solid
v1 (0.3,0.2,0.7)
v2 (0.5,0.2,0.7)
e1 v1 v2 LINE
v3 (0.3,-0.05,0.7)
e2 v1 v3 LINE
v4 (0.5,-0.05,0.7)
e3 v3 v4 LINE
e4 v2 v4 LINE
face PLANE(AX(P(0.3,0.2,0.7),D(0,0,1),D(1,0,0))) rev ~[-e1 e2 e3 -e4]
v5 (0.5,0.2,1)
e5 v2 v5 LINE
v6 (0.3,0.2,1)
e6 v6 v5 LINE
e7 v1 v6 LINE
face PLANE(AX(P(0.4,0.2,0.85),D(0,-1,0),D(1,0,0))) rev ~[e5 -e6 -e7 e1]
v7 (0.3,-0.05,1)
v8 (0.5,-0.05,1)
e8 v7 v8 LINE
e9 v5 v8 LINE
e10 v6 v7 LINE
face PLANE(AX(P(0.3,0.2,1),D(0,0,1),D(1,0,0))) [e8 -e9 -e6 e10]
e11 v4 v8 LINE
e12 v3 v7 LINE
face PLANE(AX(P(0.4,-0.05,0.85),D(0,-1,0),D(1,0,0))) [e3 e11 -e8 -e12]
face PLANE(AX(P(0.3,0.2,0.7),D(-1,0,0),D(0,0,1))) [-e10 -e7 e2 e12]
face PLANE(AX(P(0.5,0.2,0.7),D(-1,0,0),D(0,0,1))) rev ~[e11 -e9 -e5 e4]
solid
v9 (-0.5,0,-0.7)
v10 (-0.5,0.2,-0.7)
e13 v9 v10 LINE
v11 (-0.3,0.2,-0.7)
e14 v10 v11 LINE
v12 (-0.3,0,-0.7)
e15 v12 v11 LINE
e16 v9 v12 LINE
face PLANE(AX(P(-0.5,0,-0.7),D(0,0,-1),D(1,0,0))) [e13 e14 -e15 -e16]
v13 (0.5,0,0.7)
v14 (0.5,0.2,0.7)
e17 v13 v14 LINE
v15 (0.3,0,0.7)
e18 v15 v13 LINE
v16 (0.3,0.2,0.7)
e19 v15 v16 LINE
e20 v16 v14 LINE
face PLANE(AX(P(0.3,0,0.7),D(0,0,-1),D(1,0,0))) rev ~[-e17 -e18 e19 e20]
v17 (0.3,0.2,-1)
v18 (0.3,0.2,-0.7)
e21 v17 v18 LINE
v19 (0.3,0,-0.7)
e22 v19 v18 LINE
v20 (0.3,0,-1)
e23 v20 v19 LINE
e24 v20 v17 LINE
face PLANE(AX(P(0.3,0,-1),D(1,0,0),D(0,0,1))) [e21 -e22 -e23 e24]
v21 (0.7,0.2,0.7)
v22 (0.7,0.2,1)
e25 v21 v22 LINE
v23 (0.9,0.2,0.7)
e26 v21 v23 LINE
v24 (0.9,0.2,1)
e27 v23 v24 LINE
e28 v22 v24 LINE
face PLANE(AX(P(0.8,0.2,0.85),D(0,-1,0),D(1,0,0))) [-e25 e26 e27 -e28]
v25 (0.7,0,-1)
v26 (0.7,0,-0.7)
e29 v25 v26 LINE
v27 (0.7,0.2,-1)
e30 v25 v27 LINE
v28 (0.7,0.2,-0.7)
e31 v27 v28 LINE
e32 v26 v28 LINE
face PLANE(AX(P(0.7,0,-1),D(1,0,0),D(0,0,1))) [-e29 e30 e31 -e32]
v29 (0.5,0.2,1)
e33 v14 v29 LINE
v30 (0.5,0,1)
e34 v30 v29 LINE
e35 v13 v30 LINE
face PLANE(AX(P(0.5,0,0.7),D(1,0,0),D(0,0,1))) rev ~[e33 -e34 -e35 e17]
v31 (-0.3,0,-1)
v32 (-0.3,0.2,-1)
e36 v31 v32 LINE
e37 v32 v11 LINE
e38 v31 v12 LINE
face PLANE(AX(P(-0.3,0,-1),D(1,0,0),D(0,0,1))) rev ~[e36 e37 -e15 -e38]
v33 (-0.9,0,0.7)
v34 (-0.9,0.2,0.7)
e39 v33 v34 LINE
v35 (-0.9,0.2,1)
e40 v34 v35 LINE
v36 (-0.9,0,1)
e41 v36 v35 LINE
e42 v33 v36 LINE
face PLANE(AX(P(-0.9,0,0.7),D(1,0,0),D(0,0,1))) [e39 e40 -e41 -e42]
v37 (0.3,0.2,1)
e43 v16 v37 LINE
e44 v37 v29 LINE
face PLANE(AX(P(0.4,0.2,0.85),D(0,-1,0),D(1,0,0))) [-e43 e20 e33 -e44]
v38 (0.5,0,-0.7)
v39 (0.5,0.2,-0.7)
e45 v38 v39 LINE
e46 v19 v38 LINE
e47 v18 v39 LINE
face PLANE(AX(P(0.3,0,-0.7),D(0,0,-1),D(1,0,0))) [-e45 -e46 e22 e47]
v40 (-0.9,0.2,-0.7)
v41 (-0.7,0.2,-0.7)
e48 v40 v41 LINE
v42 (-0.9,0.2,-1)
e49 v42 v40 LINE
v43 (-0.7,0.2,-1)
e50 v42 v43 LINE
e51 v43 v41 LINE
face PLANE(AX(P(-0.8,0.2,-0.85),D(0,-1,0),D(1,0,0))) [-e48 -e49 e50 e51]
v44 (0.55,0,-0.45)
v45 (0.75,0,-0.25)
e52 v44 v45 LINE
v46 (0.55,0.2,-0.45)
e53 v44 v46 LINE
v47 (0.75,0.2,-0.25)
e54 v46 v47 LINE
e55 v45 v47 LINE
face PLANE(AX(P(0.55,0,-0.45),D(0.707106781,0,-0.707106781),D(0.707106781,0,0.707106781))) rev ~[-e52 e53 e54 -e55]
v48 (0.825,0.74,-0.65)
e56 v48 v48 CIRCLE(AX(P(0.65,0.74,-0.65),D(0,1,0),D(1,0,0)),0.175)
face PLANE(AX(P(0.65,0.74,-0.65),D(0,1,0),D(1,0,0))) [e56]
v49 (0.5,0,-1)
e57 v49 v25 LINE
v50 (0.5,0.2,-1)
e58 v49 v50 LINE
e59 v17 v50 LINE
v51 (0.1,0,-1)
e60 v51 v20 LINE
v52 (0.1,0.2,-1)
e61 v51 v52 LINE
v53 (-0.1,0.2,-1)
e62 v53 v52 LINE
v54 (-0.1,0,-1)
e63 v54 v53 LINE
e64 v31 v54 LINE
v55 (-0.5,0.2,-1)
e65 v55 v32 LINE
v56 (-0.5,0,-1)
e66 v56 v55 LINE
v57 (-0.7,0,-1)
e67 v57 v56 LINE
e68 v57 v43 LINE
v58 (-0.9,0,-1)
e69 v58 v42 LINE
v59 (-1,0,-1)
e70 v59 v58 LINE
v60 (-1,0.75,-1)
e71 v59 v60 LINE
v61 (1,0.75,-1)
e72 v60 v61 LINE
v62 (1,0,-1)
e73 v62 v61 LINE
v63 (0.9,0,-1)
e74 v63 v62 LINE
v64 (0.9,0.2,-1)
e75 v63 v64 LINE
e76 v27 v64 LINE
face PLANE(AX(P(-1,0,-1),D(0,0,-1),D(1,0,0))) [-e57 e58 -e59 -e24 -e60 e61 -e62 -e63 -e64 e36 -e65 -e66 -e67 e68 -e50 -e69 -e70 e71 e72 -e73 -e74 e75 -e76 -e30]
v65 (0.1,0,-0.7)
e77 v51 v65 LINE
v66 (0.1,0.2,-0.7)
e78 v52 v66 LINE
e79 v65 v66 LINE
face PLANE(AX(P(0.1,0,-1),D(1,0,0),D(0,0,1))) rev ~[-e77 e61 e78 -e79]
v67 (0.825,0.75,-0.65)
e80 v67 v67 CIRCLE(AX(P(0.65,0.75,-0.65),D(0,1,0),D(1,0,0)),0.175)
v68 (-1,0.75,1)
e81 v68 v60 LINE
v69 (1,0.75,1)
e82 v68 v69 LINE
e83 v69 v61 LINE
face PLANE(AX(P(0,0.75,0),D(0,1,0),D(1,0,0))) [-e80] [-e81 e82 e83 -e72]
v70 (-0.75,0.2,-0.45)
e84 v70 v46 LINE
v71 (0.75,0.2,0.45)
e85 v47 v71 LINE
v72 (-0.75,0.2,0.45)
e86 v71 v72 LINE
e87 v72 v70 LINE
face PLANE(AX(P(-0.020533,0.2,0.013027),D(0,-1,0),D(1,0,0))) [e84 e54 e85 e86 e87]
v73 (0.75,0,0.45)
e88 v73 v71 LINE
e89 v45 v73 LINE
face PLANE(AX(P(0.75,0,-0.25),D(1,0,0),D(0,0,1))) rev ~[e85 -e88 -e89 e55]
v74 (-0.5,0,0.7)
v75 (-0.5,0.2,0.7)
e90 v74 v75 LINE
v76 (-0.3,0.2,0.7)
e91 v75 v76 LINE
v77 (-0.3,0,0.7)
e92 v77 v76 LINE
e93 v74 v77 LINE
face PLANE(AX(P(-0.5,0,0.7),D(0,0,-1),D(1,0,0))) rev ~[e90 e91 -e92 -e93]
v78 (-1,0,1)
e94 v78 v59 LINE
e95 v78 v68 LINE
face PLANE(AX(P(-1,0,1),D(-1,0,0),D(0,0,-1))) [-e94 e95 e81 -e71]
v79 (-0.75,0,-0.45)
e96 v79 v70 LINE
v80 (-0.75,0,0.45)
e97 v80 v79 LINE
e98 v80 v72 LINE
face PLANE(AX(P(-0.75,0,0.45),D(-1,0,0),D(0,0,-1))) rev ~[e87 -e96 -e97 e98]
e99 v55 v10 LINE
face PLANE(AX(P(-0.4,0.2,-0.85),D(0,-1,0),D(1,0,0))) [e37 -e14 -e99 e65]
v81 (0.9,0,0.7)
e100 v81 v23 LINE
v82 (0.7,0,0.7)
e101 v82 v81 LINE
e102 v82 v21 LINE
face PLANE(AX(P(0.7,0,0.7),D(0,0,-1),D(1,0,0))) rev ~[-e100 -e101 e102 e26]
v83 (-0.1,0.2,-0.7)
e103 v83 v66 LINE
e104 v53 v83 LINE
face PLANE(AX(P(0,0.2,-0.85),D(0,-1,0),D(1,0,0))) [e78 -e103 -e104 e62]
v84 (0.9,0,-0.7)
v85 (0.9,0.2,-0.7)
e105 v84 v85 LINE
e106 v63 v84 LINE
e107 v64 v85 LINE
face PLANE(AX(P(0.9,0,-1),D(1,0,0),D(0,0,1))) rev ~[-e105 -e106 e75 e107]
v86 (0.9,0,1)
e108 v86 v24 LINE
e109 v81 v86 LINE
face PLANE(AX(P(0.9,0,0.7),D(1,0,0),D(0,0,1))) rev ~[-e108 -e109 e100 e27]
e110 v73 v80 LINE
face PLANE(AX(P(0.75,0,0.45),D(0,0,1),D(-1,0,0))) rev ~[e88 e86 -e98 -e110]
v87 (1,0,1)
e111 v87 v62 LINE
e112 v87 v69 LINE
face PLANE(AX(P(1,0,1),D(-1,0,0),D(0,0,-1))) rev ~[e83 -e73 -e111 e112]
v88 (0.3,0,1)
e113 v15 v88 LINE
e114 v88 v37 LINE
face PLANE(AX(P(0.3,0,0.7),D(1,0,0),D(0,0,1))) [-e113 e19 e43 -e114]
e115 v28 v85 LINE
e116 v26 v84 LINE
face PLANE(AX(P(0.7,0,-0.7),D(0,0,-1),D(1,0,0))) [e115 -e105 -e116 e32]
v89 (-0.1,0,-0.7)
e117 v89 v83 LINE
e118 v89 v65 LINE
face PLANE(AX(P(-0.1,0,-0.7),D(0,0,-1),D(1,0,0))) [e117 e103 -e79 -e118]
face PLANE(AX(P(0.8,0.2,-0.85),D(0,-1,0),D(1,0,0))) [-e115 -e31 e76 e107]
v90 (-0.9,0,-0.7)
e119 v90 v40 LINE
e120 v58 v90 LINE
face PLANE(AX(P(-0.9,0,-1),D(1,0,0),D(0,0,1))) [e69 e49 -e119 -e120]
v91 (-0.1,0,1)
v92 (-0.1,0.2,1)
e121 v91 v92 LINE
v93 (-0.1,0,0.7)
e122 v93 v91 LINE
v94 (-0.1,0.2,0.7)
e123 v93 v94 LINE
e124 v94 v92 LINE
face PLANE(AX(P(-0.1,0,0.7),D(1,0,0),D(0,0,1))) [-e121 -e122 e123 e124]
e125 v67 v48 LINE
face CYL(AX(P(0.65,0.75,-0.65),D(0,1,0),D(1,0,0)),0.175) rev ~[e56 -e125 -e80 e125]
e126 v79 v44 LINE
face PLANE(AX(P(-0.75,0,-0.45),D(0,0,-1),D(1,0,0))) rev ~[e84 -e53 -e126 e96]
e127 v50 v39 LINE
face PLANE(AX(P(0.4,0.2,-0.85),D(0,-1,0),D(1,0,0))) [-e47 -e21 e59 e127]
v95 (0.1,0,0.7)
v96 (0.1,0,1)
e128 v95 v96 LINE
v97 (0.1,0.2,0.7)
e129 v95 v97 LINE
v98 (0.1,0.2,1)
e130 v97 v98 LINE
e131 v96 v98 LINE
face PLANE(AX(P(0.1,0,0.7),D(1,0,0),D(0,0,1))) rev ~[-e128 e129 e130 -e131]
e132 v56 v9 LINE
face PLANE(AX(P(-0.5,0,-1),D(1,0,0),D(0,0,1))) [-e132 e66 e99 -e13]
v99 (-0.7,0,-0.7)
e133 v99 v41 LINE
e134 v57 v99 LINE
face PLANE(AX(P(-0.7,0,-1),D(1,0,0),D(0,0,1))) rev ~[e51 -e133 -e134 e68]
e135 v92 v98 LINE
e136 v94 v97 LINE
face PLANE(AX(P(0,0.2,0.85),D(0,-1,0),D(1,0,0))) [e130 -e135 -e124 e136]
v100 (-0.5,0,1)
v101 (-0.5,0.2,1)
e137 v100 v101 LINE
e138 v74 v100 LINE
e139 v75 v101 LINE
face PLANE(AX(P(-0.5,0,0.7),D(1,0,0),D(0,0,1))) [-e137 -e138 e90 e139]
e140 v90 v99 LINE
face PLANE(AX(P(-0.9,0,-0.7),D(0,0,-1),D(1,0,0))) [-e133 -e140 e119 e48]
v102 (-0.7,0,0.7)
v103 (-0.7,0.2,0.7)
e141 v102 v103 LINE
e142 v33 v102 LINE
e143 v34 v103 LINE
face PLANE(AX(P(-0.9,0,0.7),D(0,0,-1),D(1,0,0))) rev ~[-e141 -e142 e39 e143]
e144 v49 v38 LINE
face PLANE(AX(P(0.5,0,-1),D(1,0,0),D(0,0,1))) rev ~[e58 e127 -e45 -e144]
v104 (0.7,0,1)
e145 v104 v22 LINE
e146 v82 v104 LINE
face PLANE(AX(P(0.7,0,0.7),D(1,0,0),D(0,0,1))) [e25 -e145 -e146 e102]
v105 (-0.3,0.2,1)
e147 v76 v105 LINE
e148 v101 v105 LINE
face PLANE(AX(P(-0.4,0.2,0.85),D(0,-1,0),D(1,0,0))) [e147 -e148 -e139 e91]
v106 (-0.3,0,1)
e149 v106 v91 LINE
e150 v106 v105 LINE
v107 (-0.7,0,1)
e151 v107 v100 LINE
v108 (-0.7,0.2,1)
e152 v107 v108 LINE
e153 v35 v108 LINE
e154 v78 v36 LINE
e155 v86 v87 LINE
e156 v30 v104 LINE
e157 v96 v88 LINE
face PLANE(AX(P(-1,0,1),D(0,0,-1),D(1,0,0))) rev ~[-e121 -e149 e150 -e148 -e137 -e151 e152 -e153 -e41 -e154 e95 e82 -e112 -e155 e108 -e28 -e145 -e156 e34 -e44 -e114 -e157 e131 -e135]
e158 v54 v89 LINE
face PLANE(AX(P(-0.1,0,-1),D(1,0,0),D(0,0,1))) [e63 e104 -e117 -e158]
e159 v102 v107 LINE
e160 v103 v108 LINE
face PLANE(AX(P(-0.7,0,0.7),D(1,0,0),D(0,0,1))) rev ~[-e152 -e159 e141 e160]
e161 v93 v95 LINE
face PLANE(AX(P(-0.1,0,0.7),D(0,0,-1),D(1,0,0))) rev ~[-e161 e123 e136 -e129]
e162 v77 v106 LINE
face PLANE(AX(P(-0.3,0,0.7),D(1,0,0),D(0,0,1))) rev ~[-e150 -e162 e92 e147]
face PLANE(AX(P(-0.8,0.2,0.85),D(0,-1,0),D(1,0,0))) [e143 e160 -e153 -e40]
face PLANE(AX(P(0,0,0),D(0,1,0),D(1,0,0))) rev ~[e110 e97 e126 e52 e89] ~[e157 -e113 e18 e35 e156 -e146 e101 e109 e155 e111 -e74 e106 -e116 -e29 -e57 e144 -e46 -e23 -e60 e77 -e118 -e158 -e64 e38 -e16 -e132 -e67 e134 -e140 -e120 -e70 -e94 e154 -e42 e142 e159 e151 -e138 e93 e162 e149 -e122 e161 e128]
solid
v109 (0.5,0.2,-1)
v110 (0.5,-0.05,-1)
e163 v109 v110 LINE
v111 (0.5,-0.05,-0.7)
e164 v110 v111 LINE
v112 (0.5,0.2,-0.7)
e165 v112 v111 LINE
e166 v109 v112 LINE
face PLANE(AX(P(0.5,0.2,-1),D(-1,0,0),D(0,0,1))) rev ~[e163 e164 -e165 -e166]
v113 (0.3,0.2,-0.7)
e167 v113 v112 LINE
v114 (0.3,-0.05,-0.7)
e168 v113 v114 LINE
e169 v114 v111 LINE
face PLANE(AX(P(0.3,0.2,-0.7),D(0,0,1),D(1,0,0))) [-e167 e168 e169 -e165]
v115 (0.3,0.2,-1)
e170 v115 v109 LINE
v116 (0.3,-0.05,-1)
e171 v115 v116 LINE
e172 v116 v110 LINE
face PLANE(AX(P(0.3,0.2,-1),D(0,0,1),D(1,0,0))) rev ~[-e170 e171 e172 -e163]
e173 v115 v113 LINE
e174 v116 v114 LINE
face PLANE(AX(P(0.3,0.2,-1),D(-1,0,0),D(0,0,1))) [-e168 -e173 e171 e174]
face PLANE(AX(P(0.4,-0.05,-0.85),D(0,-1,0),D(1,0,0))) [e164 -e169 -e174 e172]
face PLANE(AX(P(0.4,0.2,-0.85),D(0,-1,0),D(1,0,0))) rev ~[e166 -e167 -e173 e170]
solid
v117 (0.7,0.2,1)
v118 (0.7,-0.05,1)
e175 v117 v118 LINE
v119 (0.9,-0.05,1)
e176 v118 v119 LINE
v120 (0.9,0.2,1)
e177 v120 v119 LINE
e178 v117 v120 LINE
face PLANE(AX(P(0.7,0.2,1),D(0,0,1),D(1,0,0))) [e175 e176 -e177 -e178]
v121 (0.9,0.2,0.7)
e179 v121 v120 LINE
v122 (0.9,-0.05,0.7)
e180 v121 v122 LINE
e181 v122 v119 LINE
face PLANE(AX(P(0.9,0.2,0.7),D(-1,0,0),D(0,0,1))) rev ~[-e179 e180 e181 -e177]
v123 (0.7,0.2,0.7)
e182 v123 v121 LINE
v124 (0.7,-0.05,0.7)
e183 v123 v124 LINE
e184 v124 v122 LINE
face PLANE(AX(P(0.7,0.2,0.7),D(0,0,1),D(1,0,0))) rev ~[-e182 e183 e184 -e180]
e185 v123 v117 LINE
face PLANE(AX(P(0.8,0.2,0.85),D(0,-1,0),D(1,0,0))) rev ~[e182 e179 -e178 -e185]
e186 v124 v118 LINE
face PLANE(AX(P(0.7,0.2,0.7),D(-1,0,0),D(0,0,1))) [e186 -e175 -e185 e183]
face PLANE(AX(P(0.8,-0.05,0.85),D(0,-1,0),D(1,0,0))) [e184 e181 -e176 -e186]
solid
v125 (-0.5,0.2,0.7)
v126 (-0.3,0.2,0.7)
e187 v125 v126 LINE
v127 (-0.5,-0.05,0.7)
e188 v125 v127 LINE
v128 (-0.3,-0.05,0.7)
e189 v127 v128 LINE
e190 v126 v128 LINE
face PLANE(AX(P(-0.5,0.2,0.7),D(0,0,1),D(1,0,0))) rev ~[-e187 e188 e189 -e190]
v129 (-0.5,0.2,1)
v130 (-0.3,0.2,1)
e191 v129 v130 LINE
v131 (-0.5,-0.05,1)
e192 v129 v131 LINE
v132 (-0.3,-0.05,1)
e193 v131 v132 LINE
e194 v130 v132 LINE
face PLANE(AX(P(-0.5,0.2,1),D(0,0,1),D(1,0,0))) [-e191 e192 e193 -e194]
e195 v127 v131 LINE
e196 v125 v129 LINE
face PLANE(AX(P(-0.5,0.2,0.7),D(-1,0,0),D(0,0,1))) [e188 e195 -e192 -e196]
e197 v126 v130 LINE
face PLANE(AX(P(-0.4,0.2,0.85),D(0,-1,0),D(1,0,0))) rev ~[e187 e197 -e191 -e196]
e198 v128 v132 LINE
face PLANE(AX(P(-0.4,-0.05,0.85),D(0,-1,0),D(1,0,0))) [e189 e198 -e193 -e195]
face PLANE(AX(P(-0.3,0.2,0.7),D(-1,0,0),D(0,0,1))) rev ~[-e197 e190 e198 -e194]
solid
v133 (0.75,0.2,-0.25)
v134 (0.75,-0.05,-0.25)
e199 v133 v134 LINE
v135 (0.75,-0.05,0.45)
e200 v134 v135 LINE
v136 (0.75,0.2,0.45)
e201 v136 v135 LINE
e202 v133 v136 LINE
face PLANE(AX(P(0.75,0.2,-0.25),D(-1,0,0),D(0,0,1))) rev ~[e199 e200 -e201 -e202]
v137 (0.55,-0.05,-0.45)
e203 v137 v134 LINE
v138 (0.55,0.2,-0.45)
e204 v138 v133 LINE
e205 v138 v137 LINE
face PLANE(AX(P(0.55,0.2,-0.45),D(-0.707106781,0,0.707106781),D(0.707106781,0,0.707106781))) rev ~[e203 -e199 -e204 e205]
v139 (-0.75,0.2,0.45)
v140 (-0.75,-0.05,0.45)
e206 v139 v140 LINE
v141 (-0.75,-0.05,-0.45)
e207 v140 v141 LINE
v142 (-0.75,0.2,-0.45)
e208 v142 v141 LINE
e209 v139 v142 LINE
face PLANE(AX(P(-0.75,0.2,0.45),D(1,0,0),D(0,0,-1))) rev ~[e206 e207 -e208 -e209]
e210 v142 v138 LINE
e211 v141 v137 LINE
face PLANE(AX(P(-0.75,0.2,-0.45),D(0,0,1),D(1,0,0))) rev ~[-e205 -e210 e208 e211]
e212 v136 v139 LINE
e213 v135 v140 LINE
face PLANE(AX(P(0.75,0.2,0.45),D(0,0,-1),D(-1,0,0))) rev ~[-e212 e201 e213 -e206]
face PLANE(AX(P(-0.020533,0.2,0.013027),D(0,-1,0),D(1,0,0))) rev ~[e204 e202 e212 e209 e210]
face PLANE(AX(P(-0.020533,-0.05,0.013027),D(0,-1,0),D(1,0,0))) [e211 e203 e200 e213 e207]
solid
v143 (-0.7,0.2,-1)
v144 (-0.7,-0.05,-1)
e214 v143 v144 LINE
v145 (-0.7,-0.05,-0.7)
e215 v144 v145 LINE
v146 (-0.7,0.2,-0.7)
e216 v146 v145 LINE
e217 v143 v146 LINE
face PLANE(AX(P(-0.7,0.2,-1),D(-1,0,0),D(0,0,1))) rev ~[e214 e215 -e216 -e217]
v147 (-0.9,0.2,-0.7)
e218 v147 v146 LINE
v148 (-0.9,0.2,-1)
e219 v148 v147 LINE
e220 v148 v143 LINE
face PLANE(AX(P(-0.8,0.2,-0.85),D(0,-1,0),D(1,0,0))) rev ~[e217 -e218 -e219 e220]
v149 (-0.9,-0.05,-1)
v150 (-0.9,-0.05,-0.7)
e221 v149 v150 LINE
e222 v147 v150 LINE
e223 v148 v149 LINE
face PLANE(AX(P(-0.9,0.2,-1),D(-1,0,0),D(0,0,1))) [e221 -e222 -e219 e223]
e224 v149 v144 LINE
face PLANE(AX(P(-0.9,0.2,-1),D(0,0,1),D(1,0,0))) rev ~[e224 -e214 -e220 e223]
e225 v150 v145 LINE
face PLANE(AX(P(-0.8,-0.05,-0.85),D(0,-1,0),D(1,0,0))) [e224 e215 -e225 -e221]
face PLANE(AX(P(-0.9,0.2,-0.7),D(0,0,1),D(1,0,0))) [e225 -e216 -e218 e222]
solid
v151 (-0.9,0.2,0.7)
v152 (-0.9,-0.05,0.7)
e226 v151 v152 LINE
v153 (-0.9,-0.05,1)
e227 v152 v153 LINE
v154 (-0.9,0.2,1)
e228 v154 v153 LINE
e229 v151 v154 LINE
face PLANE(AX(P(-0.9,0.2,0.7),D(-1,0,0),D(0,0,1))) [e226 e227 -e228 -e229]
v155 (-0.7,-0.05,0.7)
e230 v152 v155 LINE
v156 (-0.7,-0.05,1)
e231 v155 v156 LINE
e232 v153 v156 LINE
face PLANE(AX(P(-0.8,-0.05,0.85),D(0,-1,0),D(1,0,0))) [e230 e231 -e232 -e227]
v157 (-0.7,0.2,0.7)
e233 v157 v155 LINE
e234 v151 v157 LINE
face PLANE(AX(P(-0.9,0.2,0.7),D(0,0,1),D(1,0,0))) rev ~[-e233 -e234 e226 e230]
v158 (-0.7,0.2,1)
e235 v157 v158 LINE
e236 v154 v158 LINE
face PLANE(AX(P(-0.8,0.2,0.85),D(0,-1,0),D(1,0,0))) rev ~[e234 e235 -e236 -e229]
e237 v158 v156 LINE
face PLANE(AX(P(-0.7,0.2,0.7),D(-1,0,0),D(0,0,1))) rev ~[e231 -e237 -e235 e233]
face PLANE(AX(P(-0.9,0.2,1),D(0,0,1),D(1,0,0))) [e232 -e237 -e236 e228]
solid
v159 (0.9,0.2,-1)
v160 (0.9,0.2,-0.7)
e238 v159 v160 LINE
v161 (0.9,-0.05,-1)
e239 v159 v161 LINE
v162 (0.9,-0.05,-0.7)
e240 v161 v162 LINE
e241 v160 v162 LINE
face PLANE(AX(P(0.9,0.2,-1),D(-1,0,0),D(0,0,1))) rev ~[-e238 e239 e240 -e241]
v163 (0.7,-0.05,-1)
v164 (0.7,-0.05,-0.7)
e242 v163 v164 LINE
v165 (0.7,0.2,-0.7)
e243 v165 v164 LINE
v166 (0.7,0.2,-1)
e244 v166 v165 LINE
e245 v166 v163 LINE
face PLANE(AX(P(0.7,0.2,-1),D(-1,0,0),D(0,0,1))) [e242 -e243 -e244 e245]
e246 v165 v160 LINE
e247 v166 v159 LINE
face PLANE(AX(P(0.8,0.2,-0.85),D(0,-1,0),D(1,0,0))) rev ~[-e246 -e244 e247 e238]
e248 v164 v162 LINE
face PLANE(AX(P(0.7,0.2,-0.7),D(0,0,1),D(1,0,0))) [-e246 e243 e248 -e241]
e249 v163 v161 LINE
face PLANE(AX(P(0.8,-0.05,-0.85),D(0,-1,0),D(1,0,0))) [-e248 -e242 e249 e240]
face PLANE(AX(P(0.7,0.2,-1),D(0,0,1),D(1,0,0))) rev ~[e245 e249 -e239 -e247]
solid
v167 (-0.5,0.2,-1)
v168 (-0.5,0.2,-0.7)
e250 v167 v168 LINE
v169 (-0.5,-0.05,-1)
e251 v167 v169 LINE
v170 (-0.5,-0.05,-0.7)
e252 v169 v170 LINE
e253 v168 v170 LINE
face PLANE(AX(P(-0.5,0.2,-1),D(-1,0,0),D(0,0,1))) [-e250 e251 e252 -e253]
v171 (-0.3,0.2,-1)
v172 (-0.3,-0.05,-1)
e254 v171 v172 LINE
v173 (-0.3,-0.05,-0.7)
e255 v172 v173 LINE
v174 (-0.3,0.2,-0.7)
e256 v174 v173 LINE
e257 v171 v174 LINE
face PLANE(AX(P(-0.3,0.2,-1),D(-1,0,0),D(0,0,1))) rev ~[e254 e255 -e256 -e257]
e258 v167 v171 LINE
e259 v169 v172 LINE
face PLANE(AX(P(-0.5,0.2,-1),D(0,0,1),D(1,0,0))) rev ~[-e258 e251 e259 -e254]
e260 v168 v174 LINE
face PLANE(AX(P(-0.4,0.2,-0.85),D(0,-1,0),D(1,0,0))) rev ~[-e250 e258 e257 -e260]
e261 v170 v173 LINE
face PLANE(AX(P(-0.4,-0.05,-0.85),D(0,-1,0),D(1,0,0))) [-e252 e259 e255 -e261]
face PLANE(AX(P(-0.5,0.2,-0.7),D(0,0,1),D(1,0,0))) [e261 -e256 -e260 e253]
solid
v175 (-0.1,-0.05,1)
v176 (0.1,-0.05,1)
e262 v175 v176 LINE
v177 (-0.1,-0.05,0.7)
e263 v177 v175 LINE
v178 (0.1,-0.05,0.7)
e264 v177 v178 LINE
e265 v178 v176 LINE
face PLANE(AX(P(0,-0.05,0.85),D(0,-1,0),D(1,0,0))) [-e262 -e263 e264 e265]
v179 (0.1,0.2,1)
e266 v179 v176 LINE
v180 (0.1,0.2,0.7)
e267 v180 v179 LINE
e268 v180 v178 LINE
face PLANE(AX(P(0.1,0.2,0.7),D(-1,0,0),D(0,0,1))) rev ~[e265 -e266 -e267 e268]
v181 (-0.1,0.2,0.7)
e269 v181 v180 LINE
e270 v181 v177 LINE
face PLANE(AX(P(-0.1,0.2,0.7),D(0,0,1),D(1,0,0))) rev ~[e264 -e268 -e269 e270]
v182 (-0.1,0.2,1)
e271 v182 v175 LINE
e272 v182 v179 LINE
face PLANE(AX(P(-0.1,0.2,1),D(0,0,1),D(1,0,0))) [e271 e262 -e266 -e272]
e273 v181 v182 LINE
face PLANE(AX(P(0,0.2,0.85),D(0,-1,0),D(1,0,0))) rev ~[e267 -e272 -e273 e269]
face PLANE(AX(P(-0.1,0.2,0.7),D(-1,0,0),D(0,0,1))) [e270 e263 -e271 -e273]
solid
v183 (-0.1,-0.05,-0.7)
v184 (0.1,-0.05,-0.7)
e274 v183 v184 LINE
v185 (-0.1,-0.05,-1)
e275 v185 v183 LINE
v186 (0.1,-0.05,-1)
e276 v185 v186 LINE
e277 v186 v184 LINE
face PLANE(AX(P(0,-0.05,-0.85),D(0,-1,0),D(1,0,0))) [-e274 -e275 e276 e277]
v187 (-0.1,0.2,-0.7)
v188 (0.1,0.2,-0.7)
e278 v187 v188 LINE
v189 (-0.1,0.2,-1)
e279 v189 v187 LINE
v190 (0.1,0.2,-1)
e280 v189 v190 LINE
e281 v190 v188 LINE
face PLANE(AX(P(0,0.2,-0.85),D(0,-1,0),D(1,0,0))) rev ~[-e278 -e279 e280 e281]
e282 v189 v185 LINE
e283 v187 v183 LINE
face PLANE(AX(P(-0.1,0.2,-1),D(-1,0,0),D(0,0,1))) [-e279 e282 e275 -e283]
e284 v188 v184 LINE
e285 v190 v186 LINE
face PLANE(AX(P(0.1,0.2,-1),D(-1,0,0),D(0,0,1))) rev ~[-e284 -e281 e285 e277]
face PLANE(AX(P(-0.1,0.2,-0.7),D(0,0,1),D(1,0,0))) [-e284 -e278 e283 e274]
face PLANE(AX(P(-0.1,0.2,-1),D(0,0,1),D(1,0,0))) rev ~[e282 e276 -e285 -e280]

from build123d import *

# Parameters (mm, degrees)
SKETCH1_W              = 2
SKETCH1_H              = 2
BOSS_EXTRUDE1_DEPTH    = 0.75
SKETCH2_W              = 0.2
SKETCH2_H              = 0.3
CUT_EXTRUDE1_DEPTH     = 0.2
SKETCH3_W              = 0.2
SKETCH3_H              = 0.3
BOSS_EXTRUDE2_DEPTH    = 0.25
BOSS_EXTRUDE2_2_DEPTH  = 0.25
BOSS_EXTRUDE2_3_DEPTH  = 0.25
BOSS_EXTRUDE2_4_DEPTH  = 0.25
BOSS_EXTRUDE2_5_DEPTH  = 0.25
BOSS_EXTRUDE2_6_DEPTH  = 0.25
BOSS_EXTRUDE2_7_DEPTH  = 0.25
BOSS_EXTRUDE2_8_DEPTH  = 0.25
BOSS_EXTRUDE2_9_DEPTH  = 0.25
BOSS_EXTRUDE2_10_DEPTH = 0.25
BOSS_EXTRUDE2_11_DEPTH = 0.25
SKETCH4_R              = 0.175
CUT_EXTRUDE2_DEPTH     = 0.01


with BuildPart() as part:
    # Sketch1 → Boss-Extrude1 (new body)
    with BuildSketch(Plane(origin=(0, 0, 0), x_dir=(1, 0, 0), z_dir=(0, 1, 0))):
        Rectangle(SKETCH1_W, SKETCH1_H)
    extrude(amount=BOSS_EXTRUDE1_DEPTH)

    # Sketch2 → Cut-Extrude1 (cut)
    with BuildSketch(Plane.XZ):
        Polygon((0.75, 0.45), (-0.75, 0.45), (-0.75, -0.45), (0.55, -0.45), (0.75, -0.25), align=None)
        with Locations((-0.8, 0.85)):
            Rectangle(SKETCH2_W, SKETCH2_H)
        with Locations((-0.4, 0.85)):
            Rectangle(SKETCH2_W, SKETCH2_H)
        with Locations((0, 0.85)):
            Rectangle(SKETCH2_W, SKETCH2_H)
        with Locations((0.4, 0.85)):
            Rectangle(SKETCH2_W, SKETCH2_H)
        with Locations((0.8, 0.85)):
            Rectangle(SKETCH2_W, SKETCH2_H)
        with Locations((0.8, -0.85)):
            Rectangle(SKETCH2_W, SKETCH2_H)
        with Locations((0.4, -0.85)):
            Rectangle(SKETCH2_W, SKETCH2_H)
        with Locations((0, -0.85)):
            Rectangle(SKETCH2_W, SKETCH2_H)
        with Locations((-0.4, -0.85)):
            Rectangle(SKETCH2_W, SKETCH2_H)
        with Locations((-0.8, -0.85)):
            Rectangle(SKETCH2_W, SKETCH2_H)
    extrude(amount=-CUT_EXTRUDE1_DEPTH, mode=Mode.SUBTRACT)

    # Sketch4 → Cut-Extrude2 (cut)
    with BuildSketch(Plane(origin=(0, 0.75, 0), x_dir=(1, 0, 0), z_dir=(0, 1, 0))):
        with Locations((0.65, 0.65)):
            Circle(SKETCH4_R)
    extrude(amount=-CUT_EXTRUDE2_DEPTH, mode=Mode.SUBTRACT)


with BuildPart() as body_2:
    # Sketch3 → Boss-Extrude2 (new body)
    with BuildSketch(Plane.XZ.offset(-0.2)):
        with Locations((-0.8, -0.85)):
            Rectangle(SKETCH3_W, SKETCH3_H)
    extrude(amount=BOSS_EXTRUDE2_DEPTH)


with BuildPart() as body_3:
    # Sketch3 → Boss-Extrude2 2 (new body)
    with BuildSketch(Plane.XZ.offset(-0.2)):
        with Locations((-0.4, -0.85)):
            Rectangle(SKETCH3_W, SKETCH3_H)
    extrude(amount=BOSS_EXTRUDE2_2_DEPTH)


with BuildPart() as body_4:
    # Sketch3 → Boss-Extrude2 3 (new body)
    with BuildSketch(Plane.XZ.offset(-0.2)):
        with Locations((0, -0.85)):
            Rectangle(SKETCH3_W, SKETCH3_H)
    extrude(amount=BOSS_EXTRUDE2_3_DEPTH)


with BuildPart() as body_5:
    # Sketch3 → Boss-Extrude2 4 (new body)
    with BuildSketch(Plane.XZ.offset(-0.2)):
        with Locations((0.8, -0.85)):
            Rectangle(SKETCH3_W, SKETCH3_H)
    extrude(amount=BOSS_EXTRUDE2_4_DEPTH)


with BuildPart() as body_6:
    # Sketch3 → Boss-Extrude2 5 (new body)
    with BuildSketch(Plane.XZ.offset(-0.2)):
        with Locations((0.4, -0.85)):
            Rectangle(SKETCH3_W, SKETCH3_H)
    extrude(amount=BOSS_EXTRUDE2_5_DEPTH)


with BuildPart() as body_7:
    # Sketch3 → Boss-Extrude2 6 (new body)
    with BuildSketch(Plane.XZ.offset(-0.2)):
        Polygon((0.75, 0.45), (-0.75, 0.45), (-0.75, -0.45), (0.55, -0.45), (0.75, -0.25), align=None)
    extrude(amount=BOSS_EXTRUDE2_6_DEPTH)


with BuildPart() as body_8:
    # Sketch3 → Boss-Extrude2 7 (new body)
    with BuildSketch(Plane.XZ.offset(-0.2)):
        with Locations((0.8, 0.85)):
            Rectangle(SKETCH3_W, SKETCH3_H)
    extrude(amount=BOSS_EXTRUDE2_7_DEPTH)


with BuildPart() as body_9:
    # Sketch3 → Boss-Extrude2 8 (new body)
    with BuildSketch(Plane.XZ.offset(-0.2)):
        with Locations((0.4, 0.85)):
            Rectangle(SKETCH3_W, SKETCH3_H)
    extrude(amount=BOSS_EXTRUDE2_8_DEPTH)


with BuildPart() as body_10:
    # Sketch3 → Boss-Extrude2 9 (new body)
    with BuildSketch(Plane.XZ.offset(-0.2)):
        with Locations((0, 0.85)):
            Rectangle(SKETCH3_W, SKETCH3_H)
    extrude(amount=BOSS_EXTRUDE2_9_DEPTH)


with BuildPart() as body_11:
    # Sketch3 → Boss-Extrude2 10 (new body)
    with BuildSketch(Plane.XZ.offset(-0.2)):
        with Locations((-0.4, 0.85)):
            Rectangle(SKETCH3_W, SKETCH3_H)
    extrude(amount=BOSS_EXTRUDE2_10_DEPTH)


with BuildPart() as body_12:
    # Sketch3 → Boss-Extrude2 11 (new body)
    with BuildSketch(Plane.XZ.offset(-0.2)):
        with Locations((-0.8, 0.85)):
            Rectangle(SKETCH3_W, SKETCH3_H)
    extrude(amount=BOSS_EXTRUDE2_11_DEPTH)


solid = Compound([part.part, body_2.part, body_3.part, body_4.part, body_5.part, body_6.part, body_7.part, body_8.part, body_9.part, body_10.part, body_11.part, body_12.part])
